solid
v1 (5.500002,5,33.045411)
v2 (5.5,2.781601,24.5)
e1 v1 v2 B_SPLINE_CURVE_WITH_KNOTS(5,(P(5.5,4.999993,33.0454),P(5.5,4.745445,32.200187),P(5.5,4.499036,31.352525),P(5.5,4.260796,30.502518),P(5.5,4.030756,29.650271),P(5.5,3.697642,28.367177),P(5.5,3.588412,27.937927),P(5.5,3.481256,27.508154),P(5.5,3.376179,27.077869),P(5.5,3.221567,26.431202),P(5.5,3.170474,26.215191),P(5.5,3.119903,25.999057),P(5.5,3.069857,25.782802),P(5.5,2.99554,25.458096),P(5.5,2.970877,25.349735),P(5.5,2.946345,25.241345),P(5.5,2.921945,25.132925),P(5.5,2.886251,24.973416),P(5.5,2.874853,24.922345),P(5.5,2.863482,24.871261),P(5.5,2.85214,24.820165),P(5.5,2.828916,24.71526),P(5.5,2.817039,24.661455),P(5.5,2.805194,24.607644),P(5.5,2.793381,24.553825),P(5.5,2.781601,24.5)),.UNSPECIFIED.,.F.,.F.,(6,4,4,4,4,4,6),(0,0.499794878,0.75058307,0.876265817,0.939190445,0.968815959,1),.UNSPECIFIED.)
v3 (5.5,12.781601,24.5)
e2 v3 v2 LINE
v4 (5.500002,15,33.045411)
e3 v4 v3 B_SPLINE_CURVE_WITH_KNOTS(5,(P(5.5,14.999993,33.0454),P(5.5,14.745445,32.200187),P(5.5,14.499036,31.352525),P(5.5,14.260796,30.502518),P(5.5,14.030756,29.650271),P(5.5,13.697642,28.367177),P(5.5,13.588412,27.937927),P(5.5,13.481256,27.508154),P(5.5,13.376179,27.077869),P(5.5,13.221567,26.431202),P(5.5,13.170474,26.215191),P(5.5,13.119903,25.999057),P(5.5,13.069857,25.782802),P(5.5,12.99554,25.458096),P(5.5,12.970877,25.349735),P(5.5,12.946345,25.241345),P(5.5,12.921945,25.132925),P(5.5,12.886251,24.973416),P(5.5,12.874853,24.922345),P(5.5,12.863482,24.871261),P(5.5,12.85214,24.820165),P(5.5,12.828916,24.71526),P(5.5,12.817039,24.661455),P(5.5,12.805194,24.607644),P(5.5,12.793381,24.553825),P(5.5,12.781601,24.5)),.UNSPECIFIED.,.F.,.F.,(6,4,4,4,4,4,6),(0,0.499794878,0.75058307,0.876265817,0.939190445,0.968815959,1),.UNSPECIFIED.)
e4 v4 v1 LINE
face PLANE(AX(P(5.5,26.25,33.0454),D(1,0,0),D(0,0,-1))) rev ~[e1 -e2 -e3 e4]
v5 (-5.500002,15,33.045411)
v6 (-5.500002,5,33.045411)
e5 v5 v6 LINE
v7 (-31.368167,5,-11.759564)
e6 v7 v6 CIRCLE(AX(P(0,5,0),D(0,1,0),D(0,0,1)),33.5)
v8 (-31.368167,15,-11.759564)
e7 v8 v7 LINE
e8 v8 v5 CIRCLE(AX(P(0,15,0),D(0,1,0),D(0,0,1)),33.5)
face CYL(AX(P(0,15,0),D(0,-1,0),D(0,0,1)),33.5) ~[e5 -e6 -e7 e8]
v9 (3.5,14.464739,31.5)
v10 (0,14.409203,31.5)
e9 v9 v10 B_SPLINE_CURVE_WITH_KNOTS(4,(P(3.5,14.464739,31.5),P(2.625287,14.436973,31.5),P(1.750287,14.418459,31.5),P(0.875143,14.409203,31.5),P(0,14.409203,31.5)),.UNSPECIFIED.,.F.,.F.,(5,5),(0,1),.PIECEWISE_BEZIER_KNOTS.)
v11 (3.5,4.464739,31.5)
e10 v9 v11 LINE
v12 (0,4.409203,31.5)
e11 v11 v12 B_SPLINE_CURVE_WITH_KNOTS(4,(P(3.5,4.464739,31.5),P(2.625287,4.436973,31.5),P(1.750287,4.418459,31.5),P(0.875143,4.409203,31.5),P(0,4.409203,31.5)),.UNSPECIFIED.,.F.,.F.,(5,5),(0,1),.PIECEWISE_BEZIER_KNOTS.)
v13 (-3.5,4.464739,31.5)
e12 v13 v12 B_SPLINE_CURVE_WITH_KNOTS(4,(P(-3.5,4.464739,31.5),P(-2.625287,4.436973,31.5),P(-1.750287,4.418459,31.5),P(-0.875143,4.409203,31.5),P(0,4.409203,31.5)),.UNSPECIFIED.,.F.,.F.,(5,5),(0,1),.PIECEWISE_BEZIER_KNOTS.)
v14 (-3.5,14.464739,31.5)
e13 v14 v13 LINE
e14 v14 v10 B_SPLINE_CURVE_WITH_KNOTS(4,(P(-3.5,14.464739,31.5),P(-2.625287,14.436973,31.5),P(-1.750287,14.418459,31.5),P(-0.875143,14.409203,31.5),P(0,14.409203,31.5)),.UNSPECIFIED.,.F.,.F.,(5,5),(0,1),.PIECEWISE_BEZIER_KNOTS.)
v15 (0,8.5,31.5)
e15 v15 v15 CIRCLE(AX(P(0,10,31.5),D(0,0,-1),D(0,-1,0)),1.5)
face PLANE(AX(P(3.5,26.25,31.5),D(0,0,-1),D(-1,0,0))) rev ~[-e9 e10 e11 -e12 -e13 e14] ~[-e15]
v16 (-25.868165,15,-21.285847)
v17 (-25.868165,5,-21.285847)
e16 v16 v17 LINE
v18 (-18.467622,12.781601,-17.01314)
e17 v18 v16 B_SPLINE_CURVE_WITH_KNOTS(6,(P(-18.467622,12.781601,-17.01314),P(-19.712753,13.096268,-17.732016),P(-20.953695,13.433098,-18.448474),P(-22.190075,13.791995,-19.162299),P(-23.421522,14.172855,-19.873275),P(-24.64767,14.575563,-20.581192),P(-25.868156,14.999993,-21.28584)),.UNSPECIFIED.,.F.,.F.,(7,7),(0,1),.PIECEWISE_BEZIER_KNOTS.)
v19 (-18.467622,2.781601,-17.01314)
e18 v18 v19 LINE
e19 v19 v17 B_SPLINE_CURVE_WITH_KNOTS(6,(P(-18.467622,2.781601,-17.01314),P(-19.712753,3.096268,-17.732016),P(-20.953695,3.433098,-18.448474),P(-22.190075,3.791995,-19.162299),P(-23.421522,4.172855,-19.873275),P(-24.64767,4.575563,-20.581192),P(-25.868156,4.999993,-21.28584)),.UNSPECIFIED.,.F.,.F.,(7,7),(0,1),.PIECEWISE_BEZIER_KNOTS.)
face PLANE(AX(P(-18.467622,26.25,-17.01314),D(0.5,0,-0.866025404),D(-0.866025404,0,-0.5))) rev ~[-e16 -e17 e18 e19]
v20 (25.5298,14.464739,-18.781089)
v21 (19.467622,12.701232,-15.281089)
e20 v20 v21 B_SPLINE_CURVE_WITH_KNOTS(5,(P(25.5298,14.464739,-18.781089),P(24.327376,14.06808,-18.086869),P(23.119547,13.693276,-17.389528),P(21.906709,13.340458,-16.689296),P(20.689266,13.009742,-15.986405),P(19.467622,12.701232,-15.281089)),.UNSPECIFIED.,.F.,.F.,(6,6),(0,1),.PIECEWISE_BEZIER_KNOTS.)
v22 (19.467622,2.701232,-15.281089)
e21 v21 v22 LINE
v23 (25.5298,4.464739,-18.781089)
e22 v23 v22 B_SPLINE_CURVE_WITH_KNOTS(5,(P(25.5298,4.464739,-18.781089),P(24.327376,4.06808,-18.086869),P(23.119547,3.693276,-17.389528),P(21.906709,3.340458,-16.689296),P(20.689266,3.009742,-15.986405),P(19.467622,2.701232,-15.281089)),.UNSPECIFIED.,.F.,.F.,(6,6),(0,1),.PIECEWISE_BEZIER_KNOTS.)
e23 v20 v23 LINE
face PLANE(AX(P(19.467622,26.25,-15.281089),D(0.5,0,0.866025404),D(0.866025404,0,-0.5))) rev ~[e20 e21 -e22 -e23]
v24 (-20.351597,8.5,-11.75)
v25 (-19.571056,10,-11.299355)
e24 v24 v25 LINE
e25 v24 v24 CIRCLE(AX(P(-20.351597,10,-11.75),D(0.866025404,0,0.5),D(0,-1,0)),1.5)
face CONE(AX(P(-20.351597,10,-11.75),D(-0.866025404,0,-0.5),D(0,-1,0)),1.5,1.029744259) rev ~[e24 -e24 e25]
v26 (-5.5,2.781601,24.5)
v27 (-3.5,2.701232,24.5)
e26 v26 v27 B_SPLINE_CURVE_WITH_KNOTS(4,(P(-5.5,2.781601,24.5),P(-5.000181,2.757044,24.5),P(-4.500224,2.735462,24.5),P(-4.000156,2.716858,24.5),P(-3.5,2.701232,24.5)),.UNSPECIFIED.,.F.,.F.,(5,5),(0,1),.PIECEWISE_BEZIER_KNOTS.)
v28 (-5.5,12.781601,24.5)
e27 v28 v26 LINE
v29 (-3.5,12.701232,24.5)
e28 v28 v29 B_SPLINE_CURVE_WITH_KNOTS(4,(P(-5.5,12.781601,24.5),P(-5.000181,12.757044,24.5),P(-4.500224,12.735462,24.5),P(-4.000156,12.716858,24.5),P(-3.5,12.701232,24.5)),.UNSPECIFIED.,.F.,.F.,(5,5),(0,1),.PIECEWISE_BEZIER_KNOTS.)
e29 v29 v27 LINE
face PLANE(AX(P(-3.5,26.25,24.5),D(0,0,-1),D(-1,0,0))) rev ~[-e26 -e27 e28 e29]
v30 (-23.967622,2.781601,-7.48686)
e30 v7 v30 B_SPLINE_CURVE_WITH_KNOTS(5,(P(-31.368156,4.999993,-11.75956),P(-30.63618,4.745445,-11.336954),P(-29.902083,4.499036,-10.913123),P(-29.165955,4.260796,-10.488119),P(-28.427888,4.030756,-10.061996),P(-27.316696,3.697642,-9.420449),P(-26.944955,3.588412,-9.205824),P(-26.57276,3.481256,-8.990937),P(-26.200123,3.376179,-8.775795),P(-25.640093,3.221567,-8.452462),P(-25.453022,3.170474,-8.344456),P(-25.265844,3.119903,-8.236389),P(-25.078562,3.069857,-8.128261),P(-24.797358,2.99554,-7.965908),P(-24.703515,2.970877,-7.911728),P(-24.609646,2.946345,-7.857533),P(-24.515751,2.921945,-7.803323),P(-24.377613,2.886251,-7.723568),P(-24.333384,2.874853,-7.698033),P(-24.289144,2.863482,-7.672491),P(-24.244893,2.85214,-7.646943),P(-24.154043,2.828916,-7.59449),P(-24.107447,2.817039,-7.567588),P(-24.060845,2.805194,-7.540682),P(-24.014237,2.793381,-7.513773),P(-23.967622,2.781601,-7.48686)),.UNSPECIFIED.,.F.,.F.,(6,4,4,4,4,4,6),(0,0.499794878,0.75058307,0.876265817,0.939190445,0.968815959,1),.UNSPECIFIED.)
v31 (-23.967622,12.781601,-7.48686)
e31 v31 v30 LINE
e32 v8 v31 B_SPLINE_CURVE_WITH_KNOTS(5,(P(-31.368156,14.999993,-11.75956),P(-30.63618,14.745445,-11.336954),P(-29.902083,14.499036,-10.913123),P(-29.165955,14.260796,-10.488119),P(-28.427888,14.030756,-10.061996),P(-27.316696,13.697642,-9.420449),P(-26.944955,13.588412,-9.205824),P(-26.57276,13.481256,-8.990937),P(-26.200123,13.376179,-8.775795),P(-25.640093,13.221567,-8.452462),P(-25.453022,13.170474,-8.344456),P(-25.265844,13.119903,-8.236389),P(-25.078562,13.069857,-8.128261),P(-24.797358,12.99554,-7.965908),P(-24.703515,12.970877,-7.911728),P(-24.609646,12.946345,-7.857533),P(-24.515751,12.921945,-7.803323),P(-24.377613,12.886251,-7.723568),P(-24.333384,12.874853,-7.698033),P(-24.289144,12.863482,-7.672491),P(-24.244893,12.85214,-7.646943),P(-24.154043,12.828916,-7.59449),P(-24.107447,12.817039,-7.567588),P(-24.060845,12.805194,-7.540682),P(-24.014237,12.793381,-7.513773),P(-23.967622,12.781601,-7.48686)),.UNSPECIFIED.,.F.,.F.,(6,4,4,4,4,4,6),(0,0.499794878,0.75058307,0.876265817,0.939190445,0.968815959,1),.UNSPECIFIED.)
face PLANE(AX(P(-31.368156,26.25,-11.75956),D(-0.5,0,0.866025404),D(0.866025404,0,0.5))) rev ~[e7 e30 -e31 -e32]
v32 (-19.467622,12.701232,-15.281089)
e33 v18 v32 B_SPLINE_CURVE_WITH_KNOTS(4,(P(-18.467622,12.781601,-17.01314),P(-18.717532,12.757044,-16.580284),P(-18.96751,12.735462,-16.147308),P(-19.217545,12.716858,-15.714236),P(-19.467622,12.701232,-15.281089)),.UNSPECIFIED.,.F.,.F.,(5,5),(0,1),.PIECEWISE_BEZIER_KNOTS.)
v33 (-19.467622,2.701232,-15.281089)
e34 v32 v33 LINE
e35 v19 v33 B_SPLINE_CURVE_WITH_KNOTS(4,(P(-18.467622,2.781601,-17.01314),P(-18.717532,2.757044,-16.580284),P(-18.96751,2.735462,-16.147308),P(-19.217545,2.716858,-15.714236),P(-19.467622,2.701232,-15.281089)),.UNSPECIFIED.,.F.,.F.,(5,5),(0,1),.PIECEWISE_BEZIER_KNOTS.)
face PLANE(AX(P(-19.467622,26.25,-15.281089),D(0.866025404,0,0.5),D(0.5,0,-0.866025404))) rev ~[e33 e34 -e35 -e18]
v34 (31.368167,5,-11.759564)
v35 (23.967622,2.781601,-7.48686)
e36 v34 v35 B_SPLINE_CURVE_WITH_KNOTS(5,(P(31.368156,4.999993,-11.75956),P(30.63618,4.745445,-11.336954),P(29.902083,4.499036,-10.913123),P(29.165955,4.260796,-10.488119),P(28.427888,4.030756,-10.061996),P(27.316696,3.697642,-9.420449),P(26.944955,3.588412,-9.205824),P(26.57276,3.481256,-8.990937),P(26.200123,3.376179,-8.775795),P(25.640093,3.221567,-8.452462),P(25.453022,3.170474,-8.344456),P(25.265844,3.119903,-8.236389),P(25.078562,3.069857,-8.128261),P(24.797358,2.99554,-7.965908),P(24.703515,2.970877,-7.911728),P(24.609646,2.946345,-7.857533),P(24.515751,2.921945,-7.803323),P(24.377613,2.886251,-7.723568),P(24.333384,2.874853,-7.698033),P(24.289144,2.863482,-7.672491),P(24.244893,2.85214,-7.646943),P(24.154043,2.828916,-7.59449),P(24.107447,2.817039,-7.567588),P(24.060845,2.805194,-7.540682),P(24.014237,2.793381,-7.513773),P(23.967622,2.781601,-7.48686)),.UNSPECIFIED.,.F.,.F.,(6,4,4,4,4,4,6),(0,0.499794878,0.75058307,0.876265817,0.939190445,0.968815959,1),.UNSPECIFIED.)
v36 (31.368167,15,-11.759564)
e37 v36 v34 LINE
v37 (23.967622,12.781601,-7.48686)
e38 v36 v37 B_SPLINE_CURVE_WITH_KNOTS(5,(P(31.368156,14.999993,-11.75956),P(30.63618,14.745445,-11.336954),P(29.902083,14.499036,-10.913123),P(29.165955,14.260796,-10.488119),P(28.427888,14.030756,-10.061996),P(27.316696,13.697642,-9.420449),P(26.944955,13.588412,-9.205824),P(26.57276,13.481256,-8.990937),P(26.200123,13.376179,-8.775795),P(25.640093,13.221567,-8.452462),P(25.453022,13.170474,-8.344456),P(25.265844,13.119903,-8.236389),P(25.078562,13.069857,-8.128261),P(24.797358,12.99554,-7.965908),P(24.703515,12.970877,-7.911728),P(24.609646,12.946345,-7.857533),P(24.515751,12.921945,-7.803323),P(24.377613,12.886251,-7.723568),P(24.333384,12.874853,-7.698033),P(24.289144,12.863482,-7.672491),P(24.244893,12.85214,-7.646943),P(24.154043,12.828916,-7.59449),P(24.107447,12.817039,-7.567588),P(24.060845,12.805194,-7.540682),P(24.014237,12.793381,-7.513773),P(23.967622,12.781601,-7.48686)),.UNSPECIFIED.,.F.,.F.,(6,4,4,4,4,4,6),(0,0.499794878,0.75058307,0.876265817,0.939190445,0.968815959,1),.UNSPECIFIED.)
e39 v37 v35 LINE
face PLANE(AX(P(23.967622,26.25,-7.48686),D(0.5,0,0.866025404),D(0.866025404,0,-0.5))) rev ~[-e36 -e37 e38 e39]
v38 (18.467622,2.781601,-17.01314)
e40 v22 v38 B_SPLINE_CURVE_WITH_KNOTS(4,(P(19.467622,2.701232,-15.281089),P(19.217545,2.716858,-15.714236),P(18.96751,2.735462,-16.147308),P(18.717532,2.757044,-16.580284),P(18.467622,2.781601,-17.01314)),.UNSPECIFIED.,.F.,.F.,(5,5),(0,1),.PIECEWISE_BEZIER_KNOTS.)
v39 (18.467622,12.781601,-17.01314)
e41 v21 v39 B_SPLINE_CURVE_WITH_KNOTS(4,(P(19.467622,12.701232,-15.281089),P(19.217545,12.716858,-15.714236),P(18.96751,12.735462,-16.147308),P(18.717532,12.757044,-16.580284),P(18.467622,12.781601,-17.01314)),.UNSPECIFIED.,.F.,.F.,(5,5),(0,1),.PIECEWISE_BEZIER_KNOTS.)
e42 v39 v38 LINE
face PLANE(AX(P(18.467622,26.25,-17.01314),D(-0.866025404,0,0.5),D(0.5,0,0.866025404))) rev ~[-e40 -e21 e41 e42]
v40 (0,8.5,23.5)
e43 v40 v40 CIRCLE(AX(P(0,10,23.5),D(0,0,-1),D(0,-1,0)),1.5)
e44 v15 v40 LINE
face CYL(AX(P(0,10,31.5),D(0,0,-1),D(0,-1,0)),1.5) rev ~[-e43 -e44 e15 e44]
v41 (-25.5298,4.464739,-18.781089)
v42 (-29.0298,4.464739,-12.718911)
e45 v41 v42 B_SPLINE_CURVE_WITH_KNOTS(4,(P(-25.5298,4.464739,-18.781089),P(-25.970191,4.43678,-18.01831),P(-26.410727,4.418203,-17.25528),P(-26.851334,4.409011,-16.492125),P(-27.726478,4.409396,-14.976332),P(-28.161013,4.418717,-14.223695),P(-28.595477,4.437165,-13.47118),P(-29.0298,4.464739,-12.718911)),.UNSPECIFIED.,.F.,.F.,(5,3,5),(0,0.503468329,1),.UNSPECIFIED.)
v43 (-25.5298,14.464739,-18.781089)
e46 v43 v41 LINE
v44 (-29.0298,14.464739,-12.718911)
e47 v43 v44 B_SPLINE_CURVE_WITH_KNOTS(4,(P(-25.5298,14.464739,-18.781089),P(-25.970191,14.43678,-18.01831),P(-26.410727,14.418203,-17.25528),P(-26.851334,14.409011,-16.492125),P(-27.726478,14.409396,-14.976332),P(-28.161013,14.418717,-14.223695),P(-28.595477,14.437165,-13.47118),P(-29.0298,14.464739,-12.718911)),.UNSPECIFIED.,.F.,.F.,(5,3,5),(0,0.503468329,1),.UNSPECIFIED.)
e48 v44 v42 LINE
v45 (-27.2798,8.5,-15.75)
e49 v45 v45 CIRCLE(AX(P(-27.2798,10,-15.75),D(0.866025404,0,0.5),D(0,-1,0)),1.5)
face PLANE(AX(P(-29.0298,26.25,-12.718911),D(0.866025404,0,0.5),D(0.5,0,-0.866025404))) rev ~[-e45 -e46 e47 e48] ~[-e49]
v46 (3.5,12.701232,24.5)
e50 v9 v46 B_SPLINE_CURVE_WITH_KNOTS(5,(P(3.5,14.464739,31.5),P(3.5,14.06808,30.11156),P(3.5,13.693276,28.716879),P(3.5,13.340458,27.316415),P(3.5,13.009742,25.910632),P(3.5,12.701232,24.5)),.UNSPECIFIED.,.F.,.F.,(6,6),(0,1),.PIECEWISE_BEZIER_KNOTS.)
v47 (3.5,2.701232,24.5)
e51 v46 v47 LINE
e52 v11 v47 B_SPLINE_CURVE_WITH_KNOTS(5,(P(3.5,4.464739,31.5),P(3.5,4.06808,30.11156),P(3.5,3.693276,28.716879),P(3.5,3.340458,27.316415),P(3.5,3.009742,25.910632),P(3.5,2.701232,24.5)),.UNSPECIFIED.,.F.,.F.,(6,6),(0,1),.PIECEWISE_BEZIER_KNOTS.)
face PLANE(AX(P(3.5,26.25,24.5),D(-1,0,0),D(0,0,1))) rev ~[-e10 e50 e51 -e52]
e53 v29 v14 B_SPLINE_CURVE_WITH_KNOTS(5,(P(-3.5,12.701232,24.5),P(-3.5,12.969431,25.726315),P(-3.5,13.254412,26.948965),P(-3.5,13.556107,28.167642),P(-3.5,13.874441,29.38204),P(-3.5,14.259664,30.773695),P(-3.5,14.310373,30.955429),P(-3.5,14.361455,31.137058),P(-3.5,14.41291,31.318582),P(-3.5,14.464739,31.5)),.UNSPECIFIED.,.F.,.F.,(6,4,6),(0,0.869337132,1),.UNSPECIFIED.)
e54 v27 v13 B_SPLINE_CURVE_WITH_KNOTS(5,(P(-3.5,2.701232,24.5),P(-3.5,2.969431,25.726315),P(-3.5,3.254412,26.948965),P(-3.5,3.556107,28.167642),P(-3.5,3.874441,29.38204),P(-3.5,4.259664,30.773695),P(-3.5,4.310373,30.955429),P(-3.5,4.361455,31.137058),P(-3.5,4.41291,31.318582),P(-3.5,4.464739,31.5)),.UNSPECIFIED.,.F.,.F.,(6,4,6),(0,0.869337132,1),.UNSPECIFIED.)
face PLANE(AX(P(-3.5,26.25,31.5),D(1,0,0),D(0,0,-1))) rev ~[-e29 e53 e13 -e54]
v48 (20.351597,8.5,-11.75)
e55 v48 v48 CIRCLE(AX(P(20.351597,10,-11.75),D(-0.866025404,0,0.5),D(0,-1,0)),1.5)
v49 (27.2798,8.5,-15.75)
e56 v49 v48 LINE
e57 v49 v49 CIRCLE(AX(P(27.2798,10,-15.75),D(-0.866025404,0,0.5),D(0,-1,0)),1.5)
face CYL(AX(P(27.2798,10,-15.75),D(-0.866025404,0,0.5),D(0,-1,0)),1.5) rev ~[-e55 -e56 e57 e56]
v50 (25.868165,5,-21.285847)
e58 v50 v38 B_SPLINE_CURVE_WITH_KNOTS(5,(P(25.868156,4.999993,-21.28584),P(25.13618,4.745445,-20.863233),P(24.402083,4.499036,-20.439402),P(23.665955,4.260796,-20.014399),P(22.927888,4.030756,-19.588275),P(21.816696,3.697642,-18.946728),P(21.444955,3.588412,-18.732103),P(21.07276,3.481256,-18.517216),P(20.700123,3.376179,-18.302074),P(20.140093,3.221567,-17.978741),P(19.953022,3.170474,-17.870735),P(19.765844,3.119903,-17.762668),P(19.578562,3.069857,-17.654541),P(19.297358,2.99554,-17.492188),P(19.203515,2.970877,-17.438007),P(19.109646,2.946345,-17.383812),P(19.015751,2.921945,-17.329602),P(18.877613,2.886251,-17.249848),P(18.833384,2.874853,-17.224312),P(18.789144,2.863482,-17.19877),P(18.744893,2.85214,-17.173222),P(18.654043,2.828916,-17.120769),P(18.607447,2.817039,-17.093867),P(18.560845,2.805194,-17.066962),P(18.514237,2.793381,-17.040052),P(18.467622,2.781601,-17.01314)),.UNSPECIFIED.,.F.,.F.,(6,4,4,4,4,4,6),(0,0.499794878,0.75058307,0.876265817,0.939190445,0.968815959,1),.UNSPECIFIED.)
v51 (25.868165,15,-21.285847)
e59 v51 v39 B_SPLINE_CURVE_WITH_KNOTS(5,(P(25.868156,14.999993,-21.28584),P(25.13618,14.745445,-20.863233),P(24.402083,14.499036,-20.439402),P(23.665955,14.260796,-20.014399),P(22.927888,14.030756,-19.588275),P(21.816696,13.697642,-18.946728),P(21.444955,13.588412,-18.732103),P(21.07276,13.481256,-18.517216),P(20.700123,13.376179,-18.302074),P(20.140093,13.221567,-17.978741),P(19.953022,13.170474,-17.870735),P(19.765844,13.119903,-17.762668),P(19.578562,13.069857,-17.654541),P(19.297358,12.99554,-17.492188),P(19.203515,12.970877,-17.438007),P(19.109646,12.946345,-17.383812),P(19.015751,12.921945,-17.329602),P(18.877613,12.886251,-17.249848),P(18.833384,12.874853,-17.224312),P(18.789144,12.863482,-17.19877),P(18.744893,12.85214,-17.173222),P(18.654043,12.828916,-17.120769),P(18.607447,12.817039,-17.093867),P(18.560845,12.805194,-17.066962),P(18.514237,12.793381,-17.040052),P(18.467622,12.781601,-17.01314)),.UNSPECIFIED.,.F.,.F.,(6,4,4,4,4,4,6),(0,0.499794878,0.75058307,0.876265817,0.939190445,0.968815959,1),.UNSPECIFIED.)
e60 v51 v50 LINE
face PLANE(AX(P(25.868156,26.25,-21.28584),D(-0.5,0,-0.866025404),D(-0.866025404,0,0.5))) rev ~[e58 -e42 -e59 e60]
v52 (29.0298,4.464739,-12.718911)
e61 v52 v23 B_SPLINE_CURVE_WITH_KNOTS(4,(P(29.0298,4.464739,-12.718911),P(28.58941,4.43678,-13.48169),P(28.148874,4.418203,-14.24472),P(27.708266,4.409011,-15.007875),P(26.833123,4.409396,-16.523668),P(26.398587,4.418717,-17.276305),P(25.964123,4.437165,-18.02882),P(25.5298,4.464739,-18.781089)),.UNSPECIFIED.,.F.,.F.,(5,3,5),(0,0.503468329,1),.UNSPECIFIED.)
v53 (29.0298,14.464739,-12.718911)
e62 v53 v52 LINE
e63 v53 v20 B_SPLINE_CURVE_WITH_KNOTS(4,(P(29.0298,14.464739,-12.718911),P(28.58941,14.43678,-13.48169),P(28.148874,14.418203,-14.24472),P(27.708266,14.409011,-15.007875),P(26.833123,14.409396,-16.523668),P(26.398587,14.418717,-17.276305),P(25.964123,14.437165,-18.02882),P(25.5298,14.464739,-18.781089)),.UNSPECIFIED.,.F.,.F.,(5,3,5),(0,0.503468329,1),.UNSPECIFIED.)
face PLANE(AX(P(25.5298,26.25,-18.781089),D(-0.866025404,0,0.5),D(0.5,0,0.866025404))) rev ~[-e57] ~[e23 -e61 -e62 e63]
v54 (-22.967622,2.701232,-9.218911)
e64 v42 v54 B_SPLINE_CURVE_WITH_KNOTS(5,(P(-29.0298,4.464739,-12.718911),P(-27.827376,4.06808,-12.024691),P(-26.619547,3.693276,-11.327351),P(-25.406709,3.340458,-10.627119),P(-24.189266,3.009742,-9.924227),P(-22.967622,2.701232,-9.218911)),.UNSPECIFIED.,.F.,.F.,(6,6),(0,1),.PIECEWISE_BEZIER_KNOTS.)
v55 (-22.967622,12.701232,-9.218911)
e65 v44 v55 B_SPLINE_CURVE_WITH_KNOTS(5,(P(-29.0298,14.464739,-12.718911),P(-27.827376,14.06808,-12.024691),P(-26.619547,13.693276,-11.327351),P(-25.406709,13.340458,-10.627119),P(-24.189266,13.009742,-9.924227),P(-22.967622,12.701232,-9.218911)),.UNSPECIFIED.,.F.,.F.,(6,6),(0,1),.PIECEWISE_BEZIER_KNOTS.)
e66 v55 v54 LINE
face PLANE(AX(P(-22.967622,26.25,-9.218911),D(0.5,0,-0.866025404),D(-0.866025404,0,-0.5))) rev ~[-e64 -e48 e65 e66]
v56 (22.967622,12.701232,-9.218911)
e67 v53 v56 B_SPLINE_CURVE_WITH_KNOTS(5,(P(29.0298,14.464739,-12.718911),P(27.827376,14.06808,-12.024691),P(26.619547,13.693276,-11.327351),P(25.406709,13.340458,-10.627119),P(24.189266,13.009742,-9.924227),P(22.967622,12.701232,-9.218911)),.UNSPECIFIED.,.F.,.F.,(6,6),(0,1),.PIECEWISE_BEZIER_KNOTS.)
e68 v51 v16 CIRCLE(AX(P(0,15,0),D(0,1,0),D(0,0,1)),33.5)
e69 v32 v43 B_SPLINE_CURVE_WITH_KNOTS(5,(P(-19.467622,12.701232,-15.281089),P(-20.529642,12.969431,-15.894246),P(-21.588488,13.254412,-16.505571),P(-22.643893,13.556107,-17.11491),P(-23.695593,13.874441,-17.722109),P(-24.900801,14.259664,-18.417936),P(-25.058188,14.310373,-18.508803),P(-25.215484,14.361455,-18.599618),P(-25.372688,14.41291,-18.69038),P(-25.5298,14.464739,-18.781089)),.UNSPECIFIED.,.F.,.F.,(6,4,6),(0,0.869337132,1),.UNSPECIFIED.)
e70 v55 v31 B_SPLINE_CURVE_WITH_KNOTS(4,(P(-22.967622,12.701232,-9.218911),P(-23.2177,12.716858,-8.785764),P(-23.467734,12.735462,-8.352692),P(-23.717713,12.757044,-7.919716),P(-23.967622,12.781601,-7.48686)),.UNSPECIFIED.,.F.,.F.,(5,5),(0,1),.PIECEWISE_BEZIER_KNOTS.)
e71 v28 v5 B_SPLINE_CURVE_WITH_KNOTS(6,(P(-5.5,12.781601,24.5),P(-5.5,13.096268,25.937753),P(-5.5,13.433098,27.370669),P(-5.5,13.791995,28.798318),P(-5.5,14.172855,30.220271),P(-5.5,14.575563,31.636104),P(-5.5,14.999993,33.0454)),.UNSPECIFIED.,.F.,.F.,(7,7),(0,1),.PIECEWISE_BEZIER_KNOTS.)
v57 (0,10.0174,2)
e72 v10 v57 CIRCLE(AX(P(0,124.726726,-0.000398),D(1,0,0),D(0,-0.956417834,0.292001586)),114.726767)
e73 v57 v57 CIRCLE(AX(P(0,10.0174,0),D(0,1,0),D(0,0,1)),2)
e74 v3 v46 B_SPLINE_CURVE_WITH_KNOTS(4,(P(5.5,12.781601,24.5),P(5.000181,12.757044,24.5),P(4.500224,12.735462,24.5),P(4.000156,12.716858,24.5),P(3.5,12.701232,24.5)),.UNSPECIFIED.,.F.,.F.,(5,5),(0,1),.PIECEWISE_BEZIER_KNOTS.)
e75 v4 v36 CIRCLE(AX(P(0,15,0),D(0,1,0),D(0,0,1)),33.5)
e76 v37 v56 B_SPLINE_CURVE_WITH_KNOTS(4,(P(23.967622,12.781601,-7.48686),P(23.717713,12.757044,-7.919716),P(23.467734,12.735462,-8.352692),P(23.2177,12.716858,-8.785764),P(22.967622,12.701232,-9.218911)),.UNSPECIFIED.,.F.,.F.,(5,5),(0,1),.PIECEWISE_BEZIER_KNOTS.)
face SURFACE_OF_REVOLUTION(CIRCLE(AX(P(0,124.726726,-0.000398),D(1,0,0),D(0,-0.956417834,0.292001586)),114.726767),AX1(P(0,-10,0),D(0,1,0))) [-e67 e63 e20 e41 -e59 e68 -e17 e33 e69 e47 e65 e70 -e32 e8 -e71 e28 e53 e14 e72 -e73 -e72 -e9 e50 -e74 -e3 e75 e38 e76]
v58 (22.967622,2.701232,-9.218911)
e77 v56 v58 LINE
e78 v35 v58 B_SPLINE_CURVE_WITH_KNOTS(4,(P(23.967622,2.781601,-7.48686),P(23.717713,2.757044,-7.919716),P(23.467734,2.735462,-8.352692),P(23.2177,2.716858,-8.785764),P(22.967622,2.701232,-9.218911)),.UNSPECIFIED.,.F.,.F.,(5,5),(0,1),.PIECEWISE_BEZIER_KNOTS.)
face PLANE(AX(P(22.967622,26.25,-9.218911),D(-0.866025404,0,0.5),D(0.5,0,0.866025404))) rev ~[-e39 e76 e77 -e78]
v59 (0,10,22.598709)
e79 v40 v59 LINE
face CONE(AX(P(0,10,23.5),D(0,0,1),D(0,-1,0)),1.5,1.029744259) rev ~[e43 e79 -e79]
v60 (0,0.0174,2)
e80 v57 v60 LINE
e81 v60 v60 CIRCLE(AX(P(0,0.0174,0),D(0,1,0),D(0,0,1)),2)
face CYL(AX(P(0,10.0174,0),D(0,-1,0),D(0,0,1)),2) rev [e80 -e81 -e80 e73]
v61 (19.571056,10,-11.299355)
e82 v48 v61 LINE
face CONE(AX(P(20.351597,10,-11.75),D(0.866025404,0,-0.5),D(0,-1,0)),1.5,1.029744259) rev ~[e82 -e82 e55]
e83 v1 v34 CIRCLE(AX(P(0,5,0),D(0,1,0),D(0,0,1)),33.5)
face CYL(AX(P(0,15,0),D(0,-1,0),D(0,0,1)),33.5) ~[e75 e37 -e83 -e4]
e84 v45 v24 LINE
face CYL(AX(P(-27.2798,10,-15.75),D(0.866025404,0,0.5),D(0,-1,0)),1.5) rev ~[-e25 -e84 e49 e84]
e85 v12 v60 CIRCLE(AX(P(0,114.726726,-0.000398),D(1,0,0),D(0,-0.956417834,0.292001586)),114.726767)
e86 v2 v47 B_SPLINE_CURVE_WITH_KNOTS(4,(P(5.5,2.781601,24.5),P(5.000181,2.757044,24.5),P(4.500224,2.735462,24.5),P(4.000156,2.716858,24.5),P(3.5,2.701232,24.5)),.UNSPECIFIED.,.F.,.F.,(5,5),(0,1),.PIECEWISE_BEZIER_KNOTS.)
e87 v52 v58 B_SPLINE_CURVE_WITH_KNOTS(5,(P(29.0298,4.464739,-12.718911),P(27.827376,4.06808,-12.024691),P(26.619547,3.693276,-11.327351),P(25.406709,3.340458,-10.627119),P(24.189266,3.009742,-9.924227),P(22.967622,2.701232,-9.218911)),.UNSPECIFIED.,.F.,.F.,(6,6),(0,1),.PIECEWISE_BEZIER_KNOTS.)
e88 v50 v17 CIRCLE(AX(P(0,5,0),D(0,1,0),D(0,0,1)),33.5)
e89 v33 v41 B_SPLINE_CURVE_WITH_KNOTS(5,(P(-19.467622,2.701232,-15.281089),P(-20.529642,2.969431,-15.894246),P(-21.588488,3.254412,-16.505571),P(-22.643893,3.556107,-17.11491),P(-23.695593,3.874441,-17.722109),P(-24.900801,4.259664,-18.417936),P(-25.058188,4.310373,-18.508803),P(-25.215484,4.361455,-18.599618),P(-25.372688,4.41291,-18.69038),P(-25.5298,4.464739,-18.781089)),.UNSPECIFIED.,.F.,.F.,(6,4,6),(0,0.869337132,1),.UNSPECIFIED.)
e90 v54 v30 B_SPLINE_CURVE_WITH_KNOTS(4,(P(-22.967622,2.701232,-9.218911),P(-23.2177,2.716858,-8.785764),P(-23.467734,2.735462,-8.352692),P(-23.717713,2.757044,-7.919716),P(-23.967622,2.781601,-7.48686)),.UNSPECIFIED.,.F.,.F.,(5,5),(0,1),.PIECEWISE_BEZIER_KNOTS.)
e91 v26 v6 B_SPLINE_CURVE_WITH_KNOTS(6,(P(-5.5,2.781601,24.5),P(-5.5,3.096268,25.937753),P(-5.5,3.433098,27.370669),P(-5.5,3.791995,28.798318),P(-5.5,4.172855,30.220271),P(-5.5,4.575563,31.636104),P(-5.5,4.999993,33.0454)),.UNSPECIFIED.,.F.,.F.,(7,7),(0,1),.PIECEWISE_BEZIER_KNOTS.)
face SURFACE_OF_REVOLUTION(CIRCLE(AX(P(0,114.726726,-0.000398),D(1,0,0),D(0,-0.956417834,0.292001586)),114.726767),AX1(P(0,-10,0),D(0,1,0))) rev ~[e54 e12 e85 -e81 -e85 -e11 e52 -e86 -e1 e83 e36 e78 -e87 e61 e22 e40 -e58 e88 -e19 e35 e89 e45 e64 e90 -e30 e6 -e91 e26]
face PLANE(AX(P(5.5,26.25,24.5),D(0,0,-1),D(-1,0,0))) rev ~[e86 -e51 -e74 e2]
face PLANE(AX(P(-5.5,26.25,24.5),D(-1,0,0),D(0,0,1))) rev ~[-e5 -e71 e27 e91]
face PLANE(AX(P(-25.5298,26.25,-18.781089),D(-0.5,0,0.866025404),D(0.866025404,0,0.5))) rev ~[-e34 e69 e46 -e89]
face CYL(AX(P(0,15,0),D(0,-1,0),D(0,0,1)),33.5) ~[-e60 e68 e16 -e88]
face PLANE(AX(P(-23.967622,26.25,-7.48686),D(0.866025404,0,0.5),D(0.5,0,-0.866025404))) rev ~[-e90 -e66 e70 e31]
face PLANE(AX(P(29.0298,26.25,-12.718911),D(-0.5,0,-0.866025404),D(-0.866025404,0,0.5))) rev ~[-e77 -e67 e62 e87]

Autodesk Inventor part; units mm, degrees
ref_plane "YZ Plane" through (0, 0, 0) normal (1, 0, 0) x (0, 1, 0)
ref_plane "XY Plane" through (0, 0, 0) normal (0, 0, 1) x (1, 0, 0)
sketch "Sketch2" plane through (0, 0, 0) normal (1, 0, 0) x (0, 1, 0)
  arc A0 (15, 33.5) -> (10, 0) centre (124.725, 0) ccw construction
  arc A1 (5, 33.5) -> (0, 0) centre (114.725, 0) ccw construction
  line L0 (15, 33.5) -> (5, 33.5)
  line L1 (10, 0) -> (0, 0) construction
  line L2 (-26.4367, 0) -> (149.9186, 0) projected
  line L3 (10.0174, 2) -> (0.0174, 2)
  arc A2 (5, 33.5) -> (0.0174, 2) centre (114.725, 0) ccw
  arc A3 (15, 33.5) -> (10.0174, 2) centre (124.725, 0) ccw
  point P0 (0, 0)
  point P1 (15, 0)
  dimension "d6" = 5
  dimension "d8" = 10
  dimension "d10" = 10
  dimension "d12" = 2
revolve "Revolution2" add sketch "Sketch2" angle 360 about axis through (0, -10, 0) along (0, 1, 0)
ref_plane "Work Plane2" through (0, 26.25, 0) normal (0, 1, 0) x (-1, 0, 0)
sketch "Sketch5" plane through (0, 26.25, 0) normal (0, 1, 0) x (-1, 0, 0)
  circle A0 centre (0, 0) radius 33.5 projected
  line L0 (-5.5, 33.0454) -> (5.5, 33.0454) construction
  line L1 (-5.5, 33.0454) -> (-5.5, 24.5)
  line L2 (-5.5, 24.5) -> (-3.5, 24.5)
  line L3 (-3.5, 24.5) -> (-3.5, 31.5)
  line L4 (-3.5, 31.5) -> (3.5, 31.5)
  line L5 (3.5, 31.5) -> (3.5, 24.5)
  line L6 (3.5, 24.5) -> (5.5, 24.5)
  line L7 (5.5, 24.5) -> (5.5, 33.0454)
  circle A1 centre (0, 0) radius 2 projected
  arc A2 (5.5, 33.0454) -> (-5.5, 33.0454) centre (0, 0) ccw
  line L8 (5.5, 33.0454) -> (0, 0) construction
  line L9 (0, 0) -> (0, 33.5) construction
  line L10 (5.5, 24.5) -> (0, 0) construction
  line L11 (6.965, 32.7679) -> (0, 0) construction
  line L12 (6.965, 32.7679) -> (6.5492, 30.8116) construction
  point P0 (0, 31.5)
  dimension "d37" = 11
  dimension "d40" = 2
  dimension "d41" = 2
  dimension "d56" = 9
  dimension "d57" = 2
  dimension "d58" = 33.0454
  dimension "d59" = 2
  dimension "d60" = 0
  dimension "d61" = 0
  dimension "d62" = 12
extrude "Extrusion3" cut sketch "Sketch5" along normal through all both and the other way through all contours L7 L6 L5 L4 L3 L2 L1 A0 picked at (-4.8333, 29.6818)
sketch "Sketch6" plane through (0, 124.725, 31.5) normal (0, 0, 1) x (1, 0, 0)
  line L0 (33.5, -109.725) -> (-33.5, -109.725) projected
  point P0 (0, -124.725)
  point P1 (0, -114.725)
  point P2 (5.5, -109.725)
  point P3 (-5.5, -109.725)
  dimension "d45" = 5
hole "Hole2" at (0, 10, 31.5) direction (0, 0, -1) diameter 3 depth 8 tip angle 118
pattern_circular "Circular Pattern2" count 3 over 360 about axis through (0, 10, 0) along (0, 1, 0) of "Hole2", "Extrusion3"
properties part number "Parachute bulkhead" material "Plastic, Opaque White"
